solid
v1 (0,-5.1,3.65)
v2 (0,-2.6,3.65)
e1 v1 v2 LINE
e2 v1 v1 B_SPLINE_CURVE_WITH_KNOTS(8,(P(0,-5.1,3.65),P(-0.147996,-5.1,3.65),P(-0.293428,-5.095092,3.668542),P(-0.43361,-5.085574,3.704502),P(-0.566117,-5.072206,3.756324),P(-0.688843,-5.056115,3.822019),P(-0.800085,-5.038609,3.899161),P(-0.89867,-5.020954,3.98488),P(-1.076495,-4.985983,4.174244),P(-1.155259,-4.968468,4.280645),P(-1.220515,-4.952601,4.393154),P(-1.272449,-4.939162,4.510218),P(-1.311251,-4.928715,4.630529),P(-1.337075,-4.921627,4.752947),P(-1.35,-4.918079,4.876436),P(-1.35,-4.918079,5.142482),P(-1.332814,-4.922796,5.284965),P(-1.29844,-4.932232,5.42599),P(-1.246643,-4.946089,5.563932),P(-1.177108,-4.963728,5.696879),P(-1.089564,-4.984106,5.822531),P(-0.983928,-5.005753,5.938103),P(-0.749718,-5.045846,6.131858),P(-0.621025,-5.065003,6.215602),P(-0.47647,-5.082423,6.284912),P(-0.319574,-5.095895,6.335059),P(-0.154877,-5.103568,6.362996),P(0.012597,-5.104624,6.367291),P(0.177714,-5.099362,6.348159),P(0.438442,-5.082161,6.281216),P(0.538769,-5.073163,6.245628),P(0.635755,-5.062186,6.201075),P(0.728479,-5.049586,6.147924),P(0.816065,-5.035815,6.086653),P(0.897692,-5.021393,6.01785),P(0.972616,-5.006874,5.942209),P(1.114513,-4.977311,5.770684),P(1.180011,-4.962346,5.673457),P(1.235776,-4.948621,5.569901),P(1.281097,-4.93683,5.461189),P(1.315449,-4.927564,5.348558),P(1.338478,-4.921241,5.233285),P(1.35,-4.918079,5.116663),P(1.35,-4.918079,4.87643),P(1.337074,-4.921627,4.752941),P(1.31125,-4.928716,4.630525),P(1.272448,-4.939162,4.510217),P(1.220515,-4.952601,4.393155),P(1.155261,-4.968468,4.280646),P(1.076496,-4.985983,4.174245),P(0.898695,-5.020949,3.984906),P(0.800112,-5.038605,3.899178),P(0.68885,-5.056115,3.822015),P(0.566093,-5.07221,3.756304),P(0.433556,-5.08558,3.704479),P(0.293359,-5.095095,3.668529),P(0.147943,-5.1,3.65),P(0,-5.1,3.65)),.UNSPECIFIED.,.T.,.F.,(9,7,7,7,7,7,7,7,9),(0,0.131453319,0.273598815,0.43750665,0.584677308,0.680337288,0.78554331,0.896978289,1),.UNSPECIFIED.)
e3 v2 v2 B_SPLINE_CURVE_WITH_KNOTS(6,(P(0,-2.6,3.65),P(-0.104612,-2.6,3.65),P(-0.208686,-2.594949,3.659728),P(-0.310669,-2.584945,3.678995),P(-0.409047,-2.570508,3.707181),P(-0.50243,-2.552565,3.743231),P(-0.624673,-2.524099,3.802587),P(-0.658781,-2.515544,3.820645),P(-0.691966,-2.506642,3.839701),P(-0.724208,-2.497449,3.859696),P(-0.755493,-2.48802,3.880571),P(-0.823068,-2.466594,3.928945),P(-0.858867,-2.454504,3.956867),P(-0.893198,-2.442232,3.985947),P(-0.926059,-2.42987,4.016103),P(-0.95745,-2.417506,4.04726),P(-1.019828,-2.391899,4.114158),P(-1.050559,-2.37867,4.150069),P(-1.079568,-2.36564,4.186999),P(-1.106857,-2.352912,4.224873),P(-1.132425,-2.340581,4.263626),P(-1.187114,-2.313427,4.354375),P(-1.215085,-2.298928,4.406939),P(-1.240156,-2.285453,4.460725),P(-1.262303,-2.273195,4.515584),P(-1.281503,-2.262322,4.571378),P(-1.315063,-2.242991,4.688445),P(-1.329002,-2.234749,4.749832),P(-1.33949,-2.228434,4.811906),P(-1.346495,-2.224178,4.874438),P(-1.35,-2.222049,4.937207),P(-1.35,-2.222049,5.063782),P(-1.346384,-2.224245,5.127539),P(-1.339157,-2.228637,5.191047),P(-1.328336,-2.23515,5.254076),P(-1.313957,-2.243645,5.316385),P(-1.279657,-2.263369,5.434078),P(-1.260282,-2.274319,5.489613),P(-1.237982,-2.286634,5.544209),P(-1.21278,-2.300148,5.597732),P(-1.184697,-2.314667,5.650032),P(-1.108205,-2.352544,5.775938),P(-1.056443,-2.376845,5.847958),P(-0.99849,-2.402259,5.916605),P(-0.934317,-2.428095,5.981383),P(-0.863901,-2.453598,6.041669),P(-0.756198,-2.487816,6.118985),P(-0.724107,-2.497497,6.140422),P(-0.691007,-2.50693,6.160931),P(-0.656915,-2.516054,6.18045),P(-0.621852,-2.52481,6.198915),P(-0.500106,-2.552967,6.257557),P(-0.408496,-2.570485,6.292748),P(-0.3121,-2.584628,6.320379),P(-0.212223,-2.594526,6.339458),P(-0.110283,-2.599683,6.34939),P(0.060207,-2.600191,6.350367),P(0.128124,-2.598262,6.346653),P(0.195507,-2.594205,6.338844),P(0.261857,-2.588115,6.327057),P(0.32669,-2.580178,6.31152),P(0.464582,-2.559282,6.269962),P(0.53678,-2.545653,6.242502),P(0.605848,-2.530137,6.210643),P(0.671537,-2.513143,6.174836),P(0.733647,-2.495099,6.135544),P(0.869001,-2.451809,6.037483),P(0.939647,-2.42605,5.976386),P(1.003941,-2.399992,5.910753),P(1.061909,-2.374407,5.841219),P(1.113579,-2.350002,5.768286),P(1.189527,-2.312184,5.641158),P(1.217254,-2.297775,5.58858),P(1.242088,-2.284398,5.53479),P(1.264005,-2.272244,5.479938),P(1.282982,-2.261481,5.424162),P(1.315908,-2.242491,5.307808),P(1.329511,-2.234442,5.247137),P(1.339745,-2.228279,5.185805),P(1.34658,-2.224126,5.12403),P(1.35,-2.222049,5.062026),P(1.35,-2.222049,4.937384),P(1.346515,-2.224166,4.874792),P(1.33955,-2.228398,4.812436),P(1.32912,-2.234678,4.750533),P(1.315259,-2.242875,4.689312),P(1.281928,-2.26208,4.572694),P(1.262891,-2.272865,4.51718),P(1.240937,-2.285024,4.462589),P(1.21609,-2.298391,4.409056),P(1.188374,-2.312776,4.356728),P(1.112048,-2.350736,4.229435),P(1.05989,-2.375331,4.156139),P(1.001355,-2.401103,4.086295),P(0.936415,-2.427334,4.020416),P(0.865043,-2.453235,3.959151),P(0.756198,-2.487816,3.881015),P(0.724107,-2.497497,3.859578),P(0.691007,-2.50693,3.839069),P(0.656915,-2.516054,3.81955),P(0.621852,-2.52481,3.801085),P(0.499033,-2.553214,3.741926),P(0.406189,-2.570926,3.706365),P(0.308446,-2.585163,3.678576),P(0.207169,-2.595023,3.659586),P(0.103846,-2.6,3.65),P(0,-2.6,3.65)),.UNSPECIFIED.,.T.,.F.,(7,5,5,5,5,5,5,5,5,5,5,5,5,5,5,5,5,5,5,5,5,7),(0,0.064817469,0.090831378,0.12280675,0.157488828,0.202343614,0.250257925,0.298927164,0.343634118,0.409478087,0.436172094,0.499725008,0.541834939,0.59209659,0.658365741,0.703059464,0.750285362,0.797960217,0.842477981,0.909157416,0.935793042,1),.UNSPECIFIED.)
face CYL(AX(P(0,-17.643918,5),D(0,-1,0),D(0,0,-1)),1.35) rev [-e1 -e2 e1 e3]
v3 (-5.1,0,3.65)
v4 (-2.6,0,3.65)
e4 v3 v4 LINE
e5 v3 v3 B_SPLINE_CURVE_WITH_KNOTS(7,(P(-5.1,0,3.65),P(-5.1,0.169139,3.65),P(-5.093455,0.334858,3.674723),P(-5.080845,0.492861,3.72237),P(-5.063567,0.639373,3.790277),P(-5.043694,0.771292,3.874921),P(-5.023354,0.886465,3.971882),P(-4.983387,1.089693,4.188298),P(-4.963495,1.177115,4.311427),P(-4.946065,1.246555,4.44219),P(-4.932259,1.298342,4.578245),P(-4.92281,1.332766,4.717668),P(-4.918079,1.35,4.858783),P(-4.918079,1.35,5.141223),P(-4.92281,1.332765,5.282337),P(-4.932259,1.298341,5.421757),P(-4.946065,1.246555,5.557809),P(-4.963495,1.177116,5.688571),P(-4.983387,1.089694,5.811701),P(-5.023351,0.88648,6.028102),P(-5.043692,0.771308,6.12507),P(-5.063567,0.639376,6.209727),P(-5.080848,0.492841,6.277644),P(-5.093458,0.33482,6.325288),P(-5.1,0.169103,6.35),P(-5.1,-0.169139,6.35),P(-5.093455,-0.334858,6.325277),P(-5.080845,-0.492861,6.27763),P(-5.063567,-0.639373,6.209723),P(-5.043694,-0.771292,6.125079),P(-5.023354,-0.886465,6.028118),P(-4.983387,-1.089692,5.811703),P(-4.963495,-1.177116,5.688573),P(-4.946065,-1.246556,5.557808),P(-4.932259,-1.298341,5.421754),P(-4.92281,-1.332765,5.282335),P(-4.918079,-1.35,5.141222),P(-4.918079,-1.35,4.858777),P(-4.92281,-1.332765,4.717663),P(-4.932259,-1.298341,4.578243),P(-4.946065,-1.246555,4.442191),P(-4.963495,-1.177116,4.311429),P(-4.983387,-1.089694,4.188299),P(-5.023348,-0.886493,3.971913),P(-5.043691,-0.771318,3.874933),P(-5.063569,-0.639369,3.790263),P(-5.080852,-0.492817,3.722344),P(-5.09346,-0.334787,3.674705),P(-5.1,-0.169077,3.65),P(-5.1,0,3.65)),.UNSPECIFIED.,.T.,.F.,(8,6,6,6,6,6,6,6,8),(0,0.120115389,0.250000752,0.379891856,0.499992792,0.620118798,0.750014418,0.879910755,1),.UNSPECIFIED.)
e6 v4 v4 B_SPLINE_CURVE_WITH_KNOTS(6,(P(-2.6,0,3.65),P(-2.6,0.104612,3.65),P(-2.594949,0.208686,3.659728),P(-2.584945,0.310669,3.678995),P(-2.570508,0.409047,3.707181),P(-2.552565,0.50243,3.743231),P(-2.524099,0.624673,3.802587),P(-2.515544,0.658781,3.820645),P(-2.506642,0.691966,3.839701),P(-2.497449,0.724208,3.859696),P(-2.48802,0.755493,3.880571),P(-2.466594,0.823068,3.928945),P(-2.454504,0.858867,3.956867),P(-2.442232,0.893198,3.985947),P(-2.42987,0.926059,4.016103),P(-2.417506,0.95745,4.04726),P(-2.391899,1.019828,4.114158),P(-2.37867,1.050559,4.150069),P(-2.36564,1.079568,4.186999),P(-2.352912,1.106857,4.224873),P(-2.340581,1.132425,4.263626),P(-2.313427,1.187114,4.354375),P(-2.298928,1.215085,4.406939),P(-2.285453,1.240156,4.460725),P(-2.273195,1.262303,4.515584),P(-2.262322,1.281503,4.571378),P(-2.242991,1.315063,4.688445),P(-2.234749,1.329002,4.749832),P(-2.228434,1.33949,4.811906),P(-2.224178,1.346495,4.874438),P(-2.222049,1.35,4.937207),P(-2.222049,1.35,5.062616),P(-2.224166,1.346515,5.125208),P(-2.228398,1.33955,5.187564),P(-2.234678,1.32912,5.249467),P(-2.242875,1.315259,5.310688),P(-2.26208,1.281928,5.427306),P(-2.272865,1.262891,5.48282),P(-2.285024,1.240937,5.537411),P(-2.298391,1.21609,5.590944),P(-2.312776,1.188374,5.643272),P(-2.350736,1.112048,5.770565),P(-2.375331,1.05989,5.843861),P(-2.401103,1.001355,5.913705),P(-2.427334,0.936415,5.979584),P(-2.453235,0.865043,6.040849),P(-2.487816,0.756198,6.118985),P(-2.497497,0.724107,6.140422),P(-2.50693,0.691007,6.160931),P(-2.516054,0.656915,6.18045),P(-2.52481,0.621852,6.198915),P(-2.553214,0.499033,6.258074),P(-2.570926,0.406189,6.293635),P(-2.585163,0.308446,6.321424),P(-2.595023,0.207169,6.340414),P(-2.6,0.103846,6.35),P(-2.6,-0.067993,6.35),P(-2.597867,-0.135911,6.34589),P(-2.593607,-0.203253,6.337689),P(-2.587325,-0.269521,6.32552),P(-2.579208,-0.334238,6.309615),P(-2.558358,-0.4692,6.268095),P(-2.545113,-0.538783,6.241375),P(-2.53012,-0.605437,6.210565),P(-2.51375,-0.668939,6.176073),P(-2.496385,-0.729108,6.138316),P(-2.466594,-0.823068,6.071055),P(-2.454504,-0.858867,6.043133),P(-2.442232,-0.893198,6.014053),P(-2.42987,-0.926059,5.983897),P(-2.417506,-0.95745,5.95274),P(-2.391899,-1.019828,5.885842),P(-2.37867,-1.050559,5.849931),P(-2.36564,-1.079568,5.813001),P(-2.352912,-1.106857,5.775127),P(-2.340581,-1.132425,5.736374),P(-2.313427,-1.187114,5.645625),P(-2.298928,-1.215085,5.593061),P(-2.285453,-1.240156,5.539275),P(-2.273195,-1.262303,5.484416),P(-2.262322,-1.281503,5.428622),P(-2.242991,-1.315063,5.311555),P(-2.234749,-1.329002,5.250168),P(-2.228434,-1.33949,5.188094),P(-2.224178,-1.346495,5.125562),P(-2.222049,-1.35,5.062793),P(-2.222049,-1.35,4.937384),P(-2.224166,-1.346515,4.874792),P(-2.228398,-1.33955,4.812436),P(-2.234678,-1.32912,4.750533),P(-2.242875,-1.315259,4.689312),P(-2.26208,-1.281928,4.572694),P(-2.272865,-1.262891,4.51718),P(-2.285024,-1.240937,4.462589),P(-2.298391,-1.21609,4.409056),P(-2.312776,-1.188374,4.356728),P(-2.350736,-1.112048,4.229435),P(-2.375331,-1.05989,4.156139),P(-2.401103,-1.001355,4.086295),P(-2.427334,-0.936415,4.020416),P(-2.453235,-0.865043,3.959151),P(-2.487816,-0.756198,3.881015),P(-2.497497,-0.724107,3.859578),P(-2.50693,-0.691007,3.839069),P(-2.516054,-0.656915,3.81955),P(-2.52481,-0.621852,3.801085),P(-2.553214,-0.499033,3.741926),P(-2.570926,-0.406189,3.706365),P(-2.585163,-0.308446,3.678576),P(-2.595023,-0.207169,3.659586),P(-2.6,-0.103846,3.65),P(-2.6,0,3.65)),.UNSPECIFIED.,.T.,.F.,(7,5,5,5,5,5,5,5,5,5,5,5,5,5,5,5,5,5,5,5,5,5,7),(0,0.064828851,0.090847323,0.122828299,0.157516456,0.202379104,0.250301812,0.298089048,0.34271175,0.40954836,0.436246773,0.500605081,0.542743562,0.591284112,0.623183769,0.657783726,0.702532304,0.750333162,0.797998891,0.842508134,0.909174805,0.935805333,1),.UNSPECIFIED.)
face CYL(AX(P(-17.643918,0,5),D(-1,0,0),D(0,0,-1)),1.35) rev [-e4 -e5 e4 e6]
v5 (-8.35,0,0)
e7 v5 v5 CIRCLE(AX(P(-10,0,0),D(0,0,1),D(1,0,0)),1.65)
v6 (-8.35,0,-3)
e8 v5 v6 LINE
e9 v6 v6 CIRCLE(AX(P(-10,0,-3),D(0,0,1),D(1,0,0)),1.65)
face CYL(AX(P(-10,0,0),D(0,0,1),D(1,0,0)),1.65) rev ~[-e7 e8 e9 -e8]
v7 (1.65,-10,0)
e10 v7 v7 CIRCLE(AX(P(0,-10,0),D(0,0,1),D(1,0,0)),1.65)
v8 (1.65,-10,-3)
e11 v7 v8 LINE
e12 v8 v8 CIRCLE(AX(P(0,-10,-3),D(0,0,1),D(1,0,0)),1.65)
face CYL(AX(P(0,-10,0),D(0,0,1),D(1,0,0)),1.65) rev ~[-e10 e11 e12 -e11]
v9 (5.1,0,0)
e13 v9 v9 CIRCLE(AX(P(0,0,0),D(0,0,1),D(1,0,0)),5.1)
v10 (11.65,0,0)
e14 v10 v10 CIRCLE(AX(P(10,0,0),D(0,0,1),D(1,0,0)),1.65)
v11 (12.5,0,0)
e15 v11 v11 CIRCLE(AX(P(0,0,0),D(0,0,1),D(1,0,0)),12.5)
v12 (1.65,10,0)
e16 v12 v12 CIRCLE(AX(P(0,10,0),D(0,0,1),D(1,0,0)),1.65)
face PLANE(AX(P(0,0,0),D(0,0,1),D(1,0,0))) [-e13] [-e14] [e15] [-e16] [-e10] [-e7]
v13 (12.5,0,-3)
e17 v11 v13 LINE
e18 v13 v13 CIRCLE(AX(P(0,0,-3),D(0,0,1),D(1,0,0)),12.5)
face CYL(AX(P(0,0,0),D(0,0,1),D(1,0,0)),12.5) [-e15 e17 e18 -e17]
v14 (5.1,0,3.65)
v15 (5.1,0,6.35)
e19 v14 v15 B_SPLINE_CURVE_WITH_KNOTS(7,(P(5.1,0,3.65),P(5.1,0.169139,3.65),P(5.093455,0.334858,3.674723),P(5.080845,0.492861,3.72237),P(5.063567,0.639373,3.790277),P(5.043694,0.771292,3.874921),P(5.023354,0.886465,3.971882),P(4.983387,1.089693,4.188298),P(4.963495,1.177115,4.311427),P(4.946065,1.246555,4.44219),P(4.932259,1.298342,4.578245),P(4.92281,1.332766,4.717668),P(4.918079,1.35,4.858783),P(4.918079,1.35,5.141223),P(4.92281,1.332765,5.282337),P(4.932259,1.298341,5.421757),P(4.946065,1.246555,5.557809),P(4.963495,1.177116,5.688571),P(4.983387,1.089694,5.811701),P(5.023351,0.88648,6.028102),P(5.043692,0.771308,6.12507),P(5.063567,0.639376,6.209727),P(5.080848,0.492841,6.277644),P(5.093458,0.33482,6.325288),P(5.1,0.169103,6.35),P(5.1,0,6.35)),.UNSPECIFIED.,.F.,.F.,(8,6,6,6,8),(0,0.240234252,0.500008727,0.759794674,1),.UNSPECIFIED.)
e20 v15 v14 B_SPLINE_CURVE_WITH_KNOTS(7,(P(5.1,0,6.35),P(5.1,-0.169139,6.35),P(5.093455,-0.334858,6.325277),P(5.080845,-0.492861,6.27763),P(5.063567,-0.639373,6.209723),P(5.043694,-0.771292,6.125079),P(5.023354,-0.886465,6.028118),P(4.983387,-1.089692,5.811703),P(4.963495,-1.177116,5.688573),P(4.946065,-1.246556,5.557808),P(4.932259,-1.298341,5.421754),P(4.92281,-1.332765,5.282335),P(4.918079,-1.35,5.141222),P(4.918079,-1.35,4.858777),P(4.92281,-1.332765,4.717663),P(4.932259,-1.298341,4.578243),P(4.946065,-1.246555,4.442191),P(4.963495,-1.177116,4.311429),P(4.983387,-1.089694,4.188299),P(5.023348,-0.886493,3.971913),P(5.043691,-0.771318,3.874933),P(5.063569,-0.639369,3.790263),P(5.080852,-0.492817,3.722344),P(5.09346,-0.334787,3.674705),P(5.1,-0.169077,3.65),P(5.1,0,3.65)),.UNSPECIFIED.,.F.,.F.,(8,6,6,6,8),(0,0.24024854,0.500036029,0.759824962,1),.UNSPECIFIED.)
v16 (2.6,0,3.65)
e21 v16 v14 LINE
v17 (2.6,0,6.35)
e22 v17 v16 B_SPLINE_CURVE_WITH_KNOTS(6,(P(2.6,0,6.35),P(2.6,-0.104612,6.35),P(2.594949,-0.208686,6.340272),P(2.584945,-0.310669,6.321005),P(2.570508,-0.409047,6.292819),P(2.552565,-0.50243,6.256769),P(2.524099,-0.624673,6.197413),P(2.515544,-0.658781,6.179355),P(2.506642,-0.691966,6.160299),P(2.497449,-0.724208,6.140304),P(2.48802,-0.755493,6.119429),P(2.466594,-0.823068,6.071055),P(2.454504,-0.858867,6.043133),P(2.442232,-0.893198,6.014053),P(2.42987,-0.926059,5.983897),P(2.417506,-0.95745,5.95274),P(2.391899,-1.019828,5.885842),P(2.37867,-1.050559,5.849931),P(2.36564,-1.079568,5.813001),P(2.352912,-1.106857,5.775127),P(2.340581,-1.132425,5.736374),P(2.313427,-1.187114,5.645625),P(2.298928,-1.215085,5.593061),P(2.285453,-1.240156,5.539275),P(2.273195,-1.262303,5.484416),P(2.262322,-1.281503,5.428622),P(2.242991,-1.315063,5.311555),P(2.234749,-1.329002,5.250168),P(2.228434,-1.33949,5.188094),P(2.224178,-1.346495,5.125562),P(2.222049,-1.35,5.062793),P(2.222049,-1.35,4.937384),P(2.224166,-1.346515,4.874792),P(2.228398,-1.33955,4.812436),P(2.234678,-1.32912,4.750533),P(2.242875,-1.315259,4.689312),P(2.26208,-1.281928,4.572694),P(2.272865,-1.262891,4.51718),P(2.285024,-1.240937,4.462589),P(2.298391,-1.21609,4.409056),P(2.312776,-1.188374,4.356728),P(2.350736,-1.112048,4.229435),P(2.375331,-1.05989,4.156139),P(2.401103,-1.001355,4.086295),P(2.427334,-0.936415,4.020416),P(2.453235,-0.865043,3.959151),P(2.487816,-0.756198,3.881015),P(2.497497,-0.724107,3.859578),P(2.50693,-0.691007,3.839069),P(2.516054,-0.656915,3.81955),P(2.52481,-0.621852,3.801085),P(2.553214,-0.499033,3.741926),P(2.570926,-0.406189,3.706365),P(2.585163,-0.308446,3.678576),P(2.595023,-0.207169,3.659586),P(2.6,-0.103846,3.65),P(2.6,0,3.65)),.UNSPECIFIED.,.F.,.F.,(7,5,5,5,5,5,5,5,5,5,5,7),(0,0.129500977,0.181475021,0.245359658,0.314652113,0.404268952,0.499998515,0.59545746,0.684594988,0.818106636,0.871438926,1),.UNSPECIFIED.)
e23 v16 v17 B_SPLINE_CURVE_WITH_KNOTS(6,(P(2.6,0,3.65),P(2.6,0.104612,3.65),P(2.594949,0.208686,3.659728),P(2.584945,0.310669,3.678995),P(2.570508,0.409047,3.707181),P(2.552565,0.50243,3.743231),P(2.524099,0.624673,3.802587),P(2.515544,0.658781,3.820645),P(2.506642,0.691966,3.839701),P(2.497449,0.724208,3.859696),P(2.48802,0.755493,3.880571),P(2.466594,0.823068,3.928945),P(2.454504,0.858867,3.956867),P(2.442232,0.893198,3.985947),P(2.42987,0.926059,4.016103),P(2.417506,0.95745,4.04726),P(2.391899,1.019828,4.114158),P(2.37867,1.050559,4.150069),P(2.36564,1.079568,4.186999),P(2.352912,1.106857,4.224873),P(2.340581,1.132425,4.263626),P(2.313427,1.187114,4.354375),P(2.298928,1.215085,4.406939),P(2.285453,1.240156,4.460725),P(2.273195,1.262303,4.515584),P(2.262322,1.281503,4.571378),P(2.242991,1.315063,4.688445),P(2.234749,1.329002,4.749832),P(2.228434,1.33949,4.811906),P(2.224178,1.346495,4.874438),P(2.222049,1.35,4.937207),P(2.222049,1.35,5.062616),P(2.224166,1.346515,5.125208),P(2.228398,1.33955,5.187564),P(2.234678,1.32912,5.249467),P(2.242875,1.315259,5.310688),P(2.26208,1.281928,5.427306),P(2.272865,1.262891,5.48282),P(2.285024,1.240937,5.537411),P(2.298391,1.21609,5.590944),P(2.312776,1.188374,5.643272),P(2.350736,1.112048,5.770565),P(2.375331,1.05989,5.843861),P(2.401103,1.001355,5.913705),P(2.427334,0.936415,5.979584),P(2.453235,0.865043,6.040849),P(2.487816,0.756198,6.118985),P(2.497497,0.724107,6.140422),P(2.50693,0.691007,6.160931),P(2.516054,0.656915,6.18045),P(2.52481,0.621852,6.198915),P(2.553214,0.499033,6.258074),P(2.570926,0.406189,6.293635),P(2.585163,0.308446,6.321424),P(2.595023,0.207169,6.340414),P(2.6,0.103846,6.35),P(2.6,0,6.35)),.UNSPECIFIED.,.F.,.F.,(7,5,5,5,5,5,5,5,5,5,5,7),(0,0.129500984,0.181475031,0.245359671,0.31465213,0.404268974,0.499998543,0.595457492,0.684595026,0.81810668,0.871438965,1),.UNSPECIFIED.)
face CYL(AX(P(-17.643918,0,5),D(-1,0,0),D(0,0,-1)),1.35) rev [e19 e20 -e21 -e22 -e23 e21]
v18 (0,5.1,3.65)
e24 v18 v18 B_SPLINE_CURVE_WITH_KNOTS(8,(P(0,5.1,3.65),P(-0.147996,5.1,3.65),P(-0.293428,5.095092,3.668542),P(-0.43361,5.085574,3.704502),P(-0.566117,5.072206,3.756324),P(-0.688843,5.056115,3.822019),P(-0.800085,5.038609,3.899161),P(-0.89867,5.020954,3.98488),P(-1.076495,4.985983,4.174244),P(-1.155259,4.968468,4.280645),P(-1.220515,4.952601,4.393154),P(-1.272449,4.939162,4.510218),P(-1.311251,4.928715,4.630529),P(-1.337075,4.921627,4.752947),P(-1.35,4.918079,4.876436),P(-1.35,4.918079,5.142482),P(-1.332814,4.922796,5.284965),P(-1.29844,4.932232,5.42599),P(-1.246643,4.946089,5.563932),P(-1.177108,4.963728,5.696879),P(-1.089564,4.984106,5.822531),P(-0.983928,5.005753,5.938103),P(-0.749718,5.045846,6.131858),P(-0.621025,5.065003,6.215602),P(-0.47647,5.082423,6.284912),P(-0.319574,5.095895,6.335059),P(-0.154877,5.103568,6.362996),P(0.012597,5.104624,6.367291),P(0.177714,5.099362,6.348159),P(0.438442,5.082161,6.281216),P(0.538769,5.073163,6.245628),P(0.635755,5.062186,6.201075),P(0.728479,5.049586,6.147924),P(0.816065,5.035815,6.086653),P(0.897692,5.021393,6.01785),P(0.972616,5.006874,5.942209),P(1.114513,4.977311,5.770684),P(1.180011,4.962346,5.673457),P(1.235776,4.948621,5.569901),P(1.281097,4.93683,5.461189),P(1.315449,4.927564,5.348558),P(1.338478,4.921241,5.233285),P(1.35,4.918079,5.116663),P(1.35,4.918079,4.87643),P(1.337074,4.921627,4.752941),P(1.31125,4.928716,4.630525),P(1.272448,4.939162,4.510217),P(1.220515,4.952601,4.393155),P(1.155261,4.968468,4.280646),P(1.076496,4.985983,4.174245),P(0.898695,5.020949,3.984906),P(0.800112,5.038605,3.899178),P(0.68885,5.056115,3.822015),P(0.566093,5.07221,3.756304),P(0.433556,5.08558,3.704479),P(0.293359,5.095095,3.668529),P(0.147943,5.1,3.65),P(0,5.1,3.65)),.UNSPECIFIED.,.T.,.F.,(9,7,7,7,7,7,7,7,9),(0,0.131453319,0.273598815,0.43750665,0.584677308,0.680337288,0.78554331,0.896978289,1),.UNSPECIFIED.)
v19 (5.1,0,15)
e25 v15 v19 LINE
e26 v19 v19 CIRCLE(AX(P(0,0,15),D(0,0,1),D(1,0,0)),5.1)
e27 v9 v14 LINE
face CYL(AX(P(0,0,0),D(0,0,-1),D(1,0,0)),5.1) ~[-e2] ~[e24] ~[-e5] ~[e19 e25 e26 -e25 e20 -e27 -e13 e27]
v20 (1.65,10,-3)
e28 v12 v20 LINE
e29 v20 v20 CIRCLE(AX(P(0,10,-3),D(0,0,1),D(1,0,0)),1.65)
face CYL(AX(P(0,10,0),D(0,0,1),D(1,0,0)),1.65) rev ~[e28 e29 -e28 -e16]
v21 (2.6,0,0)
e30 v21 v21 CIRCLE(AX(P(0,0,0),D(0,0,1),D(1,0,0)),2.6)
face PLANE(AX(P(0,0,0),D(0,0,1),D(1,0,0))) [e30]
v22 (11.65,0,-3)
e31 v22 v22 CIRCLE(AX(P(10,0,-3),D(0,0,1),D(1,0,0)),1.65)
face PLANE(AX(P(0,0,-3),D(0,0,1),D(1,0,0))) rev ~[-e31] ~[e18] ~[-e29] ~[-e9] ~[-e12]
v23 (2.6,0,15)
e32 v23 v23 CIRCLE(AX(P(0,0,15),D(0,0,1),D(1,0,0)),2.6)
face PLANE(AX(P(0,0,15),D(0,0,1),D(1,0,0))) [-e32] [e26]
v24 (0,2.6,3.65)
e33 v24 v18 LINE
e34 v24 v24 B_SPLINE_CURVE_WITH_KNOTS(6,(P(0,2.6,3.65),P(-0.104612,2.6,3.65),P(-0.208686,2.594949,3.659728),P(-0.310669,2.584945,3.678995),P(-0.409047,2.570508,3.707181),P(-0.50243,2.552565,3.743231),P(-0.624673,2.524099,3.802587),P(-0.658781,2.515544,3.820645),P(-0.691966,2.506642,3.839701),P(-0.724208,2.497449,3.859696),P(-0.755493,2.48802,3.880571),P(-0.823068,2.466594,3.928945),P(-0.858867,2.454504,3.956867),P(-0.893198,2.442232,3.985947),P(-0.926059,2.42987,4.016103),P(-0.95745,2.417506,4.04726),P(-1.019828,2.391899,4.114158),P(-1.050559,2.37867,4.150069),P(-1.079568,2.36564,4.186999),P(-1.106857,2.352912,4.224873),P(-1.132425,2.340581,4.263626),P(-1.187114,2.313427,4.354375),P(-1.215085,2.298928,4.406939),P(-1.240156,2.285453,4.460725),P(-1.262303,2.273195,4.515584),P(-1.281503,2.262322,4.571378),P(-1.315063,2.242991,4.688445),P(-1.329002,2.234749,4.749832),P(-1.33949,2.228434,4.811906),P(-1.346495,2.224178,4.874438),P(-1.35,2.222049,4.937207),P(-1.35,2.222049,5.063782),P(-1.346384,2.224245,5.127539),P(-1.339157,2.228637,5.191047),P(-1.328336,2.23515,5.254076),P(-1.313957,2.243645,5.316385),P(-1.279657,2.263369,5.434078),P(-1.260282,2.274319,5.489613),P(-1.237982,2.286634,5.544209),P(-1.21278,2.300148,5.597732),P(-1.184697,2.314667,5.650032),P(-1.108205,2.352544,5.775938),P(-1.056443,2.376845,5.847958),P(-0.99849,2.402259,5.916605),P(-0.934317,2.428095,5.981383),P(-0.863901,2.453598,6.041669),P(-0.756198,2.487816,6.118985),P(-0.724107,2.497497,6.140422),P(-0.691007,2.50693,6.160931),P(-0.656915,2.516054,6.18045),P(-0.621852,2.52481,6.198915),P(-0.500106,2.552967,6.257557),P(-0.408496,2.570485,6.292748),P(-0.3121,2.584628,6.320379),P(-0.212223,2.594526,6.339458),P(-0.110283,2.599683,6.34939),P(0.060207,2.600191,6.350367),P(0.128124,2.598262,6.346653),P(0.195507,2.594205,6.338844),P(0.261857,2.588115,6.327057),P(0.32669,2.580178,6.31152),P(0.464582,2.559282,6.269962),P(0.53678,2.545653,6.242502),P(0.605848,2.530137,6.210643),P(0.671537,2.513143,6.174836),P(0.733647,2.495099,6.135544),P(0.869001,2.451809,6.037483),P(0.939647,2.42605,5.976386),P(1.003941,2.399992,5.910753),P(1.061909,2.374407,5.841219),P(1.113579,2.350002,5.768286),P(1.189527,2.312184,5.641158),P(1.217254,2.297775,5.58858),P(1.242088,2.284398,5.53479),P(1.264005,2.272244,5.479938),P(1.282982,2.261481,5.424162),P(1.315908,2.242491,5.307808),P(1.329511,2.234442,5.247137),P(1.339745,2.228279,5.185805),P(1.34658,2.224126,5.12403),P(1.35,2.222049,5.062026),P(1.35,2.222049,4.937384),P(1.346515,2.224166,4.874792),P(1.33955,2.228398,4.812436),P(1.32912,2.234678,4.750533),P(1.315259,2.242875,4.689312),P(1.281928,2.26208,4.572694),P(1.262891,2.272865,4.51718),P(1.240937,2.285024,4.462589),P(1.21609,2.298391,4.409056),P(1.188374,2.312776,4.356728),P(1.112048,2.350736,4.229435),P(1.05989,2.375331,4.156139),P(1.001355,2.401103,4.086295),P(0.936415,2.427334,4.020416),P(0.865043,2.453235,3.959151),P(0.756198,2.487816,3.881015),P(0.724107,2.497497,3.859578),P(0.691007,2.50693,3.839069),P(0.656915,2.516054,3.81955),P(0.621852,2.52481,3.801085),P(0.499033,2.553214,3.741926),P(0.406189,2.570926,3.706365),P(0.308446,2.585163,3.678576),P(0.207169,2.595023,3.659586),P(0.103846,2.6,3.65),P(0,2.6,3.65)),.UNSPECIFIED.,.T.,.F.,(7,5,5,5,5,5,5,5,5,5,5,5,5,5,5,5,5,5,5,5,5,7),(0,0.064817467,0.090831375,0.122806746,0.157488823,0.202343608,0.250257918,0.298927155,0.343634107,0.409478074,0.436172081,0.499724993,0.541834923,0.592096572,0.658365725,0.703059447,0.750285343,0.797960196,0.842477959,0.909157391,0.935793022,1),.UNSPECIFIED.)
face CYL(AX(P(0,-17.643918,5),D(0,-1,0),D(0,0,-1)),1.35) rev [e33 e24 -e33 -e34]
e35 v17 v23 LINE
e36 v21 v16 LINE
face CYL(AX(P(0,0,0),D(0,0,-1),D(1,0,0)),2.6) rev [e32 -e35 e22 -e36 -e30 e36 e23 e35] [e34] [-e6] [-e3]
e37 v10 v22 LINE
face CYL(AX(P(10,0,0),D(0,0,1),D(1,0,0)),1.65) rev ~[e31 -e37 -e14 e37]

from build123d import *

# Parameters (mm, degrees)
SKETCH_1_R               = 5.1
SKETCH_1_R_2             = 2.6
EXTRUDE_1_DEPTH          = 15
CUT_EXTRUDE_1_DEPTH      = 17.643917808
CUT_EXTRUDE_1_DEPTH_BACK = 17.643917808
SKETCH_2_R               = 1.35
CUT_EXTRUDE_2_DEPTH      = 17.643917959
CUT_EXTRUDE_2_DEPTH_BACK = 17.643917959
SKETCH_3_R               = 1.35
SKETCH_4_R               = 12.5
SKETCH_4_R_2             = 1.65
EXTRUDE_2_DEPTH          = 3


with BuildPart() as part:
    # 草图1 → 凸台-拉伸1 (new body)
    with BuildSketch(Plane.XY):
        Circle(SKETCH_1_R)
        Circle(SKETCH_1_R_2, mode=Mode.SUBTRACT)
    extrude(amount=EXTRUDE_1_DEPTH)

    # 草图2 → 切除-拉伸1 (cut, two sides: drawn at the far end of the back side and taken through both)
    with BuildSketch(Plane(origin=(0, 0, 0), x_dir=(1, 0, 0), z_dir=(0, 1, 0)).offset(-CUT_EXTRUDE_1_DEPTH_BACK)):
        with Locations(Location((0, -5, 0), (0, 0, 90))):
            Circle(SKETCH_2_R)
    extrude(amount=CUT_EXTRUDE_1_DEPTH + CUT_EXTRUDE_1_DEPTH_BACK, mode=Mode.SUBTRACT)

    # 草图3 → 切除-拉伸2 (cut, two sides: drawn at the far end of the back side and taken through both)
    with BuildSketch(Plane(origin=(0, 0, 0), x_dir=(0, 0, -1), z_dir=(1, 0, 0)).offset(-CUT_EXTRUDE_2_DEPTH_BACK)):
        with Locations((-5, 0)):
            Circle(SKETCH_3_R)
    extrude(amount=CUT_EXTRUDE_2_DEPTH + CUT_EXTRUDE_2_DEPTH_BACK, mode=Mode.SUBTRACT)

    # 草图4 → 凸台-拉伸2 (add)
    with BuildSketch(Plane.XY):
        Circle(SKETCH_4_R)
        with Locations((0, -10)):
            Circle(SKETCH_4_R_2, mode=Mode.SUBTRACT)
        with Locations((-10, 0)):
            Circle(SKETCH_4_R_2, mode=Mode.SUBTRACT)
        with Locations((0, 10)):
            Circle(SKETCH_4_R_2, mode=Mode.SUBTRACT)
        with Locations((10, 0)):
            Circle(SKETCH_4_R_2, mode=Mode.SUBTRACT)
    extrude(amount=-EXTRUDE_2_DEPTH)


solid = part.part
